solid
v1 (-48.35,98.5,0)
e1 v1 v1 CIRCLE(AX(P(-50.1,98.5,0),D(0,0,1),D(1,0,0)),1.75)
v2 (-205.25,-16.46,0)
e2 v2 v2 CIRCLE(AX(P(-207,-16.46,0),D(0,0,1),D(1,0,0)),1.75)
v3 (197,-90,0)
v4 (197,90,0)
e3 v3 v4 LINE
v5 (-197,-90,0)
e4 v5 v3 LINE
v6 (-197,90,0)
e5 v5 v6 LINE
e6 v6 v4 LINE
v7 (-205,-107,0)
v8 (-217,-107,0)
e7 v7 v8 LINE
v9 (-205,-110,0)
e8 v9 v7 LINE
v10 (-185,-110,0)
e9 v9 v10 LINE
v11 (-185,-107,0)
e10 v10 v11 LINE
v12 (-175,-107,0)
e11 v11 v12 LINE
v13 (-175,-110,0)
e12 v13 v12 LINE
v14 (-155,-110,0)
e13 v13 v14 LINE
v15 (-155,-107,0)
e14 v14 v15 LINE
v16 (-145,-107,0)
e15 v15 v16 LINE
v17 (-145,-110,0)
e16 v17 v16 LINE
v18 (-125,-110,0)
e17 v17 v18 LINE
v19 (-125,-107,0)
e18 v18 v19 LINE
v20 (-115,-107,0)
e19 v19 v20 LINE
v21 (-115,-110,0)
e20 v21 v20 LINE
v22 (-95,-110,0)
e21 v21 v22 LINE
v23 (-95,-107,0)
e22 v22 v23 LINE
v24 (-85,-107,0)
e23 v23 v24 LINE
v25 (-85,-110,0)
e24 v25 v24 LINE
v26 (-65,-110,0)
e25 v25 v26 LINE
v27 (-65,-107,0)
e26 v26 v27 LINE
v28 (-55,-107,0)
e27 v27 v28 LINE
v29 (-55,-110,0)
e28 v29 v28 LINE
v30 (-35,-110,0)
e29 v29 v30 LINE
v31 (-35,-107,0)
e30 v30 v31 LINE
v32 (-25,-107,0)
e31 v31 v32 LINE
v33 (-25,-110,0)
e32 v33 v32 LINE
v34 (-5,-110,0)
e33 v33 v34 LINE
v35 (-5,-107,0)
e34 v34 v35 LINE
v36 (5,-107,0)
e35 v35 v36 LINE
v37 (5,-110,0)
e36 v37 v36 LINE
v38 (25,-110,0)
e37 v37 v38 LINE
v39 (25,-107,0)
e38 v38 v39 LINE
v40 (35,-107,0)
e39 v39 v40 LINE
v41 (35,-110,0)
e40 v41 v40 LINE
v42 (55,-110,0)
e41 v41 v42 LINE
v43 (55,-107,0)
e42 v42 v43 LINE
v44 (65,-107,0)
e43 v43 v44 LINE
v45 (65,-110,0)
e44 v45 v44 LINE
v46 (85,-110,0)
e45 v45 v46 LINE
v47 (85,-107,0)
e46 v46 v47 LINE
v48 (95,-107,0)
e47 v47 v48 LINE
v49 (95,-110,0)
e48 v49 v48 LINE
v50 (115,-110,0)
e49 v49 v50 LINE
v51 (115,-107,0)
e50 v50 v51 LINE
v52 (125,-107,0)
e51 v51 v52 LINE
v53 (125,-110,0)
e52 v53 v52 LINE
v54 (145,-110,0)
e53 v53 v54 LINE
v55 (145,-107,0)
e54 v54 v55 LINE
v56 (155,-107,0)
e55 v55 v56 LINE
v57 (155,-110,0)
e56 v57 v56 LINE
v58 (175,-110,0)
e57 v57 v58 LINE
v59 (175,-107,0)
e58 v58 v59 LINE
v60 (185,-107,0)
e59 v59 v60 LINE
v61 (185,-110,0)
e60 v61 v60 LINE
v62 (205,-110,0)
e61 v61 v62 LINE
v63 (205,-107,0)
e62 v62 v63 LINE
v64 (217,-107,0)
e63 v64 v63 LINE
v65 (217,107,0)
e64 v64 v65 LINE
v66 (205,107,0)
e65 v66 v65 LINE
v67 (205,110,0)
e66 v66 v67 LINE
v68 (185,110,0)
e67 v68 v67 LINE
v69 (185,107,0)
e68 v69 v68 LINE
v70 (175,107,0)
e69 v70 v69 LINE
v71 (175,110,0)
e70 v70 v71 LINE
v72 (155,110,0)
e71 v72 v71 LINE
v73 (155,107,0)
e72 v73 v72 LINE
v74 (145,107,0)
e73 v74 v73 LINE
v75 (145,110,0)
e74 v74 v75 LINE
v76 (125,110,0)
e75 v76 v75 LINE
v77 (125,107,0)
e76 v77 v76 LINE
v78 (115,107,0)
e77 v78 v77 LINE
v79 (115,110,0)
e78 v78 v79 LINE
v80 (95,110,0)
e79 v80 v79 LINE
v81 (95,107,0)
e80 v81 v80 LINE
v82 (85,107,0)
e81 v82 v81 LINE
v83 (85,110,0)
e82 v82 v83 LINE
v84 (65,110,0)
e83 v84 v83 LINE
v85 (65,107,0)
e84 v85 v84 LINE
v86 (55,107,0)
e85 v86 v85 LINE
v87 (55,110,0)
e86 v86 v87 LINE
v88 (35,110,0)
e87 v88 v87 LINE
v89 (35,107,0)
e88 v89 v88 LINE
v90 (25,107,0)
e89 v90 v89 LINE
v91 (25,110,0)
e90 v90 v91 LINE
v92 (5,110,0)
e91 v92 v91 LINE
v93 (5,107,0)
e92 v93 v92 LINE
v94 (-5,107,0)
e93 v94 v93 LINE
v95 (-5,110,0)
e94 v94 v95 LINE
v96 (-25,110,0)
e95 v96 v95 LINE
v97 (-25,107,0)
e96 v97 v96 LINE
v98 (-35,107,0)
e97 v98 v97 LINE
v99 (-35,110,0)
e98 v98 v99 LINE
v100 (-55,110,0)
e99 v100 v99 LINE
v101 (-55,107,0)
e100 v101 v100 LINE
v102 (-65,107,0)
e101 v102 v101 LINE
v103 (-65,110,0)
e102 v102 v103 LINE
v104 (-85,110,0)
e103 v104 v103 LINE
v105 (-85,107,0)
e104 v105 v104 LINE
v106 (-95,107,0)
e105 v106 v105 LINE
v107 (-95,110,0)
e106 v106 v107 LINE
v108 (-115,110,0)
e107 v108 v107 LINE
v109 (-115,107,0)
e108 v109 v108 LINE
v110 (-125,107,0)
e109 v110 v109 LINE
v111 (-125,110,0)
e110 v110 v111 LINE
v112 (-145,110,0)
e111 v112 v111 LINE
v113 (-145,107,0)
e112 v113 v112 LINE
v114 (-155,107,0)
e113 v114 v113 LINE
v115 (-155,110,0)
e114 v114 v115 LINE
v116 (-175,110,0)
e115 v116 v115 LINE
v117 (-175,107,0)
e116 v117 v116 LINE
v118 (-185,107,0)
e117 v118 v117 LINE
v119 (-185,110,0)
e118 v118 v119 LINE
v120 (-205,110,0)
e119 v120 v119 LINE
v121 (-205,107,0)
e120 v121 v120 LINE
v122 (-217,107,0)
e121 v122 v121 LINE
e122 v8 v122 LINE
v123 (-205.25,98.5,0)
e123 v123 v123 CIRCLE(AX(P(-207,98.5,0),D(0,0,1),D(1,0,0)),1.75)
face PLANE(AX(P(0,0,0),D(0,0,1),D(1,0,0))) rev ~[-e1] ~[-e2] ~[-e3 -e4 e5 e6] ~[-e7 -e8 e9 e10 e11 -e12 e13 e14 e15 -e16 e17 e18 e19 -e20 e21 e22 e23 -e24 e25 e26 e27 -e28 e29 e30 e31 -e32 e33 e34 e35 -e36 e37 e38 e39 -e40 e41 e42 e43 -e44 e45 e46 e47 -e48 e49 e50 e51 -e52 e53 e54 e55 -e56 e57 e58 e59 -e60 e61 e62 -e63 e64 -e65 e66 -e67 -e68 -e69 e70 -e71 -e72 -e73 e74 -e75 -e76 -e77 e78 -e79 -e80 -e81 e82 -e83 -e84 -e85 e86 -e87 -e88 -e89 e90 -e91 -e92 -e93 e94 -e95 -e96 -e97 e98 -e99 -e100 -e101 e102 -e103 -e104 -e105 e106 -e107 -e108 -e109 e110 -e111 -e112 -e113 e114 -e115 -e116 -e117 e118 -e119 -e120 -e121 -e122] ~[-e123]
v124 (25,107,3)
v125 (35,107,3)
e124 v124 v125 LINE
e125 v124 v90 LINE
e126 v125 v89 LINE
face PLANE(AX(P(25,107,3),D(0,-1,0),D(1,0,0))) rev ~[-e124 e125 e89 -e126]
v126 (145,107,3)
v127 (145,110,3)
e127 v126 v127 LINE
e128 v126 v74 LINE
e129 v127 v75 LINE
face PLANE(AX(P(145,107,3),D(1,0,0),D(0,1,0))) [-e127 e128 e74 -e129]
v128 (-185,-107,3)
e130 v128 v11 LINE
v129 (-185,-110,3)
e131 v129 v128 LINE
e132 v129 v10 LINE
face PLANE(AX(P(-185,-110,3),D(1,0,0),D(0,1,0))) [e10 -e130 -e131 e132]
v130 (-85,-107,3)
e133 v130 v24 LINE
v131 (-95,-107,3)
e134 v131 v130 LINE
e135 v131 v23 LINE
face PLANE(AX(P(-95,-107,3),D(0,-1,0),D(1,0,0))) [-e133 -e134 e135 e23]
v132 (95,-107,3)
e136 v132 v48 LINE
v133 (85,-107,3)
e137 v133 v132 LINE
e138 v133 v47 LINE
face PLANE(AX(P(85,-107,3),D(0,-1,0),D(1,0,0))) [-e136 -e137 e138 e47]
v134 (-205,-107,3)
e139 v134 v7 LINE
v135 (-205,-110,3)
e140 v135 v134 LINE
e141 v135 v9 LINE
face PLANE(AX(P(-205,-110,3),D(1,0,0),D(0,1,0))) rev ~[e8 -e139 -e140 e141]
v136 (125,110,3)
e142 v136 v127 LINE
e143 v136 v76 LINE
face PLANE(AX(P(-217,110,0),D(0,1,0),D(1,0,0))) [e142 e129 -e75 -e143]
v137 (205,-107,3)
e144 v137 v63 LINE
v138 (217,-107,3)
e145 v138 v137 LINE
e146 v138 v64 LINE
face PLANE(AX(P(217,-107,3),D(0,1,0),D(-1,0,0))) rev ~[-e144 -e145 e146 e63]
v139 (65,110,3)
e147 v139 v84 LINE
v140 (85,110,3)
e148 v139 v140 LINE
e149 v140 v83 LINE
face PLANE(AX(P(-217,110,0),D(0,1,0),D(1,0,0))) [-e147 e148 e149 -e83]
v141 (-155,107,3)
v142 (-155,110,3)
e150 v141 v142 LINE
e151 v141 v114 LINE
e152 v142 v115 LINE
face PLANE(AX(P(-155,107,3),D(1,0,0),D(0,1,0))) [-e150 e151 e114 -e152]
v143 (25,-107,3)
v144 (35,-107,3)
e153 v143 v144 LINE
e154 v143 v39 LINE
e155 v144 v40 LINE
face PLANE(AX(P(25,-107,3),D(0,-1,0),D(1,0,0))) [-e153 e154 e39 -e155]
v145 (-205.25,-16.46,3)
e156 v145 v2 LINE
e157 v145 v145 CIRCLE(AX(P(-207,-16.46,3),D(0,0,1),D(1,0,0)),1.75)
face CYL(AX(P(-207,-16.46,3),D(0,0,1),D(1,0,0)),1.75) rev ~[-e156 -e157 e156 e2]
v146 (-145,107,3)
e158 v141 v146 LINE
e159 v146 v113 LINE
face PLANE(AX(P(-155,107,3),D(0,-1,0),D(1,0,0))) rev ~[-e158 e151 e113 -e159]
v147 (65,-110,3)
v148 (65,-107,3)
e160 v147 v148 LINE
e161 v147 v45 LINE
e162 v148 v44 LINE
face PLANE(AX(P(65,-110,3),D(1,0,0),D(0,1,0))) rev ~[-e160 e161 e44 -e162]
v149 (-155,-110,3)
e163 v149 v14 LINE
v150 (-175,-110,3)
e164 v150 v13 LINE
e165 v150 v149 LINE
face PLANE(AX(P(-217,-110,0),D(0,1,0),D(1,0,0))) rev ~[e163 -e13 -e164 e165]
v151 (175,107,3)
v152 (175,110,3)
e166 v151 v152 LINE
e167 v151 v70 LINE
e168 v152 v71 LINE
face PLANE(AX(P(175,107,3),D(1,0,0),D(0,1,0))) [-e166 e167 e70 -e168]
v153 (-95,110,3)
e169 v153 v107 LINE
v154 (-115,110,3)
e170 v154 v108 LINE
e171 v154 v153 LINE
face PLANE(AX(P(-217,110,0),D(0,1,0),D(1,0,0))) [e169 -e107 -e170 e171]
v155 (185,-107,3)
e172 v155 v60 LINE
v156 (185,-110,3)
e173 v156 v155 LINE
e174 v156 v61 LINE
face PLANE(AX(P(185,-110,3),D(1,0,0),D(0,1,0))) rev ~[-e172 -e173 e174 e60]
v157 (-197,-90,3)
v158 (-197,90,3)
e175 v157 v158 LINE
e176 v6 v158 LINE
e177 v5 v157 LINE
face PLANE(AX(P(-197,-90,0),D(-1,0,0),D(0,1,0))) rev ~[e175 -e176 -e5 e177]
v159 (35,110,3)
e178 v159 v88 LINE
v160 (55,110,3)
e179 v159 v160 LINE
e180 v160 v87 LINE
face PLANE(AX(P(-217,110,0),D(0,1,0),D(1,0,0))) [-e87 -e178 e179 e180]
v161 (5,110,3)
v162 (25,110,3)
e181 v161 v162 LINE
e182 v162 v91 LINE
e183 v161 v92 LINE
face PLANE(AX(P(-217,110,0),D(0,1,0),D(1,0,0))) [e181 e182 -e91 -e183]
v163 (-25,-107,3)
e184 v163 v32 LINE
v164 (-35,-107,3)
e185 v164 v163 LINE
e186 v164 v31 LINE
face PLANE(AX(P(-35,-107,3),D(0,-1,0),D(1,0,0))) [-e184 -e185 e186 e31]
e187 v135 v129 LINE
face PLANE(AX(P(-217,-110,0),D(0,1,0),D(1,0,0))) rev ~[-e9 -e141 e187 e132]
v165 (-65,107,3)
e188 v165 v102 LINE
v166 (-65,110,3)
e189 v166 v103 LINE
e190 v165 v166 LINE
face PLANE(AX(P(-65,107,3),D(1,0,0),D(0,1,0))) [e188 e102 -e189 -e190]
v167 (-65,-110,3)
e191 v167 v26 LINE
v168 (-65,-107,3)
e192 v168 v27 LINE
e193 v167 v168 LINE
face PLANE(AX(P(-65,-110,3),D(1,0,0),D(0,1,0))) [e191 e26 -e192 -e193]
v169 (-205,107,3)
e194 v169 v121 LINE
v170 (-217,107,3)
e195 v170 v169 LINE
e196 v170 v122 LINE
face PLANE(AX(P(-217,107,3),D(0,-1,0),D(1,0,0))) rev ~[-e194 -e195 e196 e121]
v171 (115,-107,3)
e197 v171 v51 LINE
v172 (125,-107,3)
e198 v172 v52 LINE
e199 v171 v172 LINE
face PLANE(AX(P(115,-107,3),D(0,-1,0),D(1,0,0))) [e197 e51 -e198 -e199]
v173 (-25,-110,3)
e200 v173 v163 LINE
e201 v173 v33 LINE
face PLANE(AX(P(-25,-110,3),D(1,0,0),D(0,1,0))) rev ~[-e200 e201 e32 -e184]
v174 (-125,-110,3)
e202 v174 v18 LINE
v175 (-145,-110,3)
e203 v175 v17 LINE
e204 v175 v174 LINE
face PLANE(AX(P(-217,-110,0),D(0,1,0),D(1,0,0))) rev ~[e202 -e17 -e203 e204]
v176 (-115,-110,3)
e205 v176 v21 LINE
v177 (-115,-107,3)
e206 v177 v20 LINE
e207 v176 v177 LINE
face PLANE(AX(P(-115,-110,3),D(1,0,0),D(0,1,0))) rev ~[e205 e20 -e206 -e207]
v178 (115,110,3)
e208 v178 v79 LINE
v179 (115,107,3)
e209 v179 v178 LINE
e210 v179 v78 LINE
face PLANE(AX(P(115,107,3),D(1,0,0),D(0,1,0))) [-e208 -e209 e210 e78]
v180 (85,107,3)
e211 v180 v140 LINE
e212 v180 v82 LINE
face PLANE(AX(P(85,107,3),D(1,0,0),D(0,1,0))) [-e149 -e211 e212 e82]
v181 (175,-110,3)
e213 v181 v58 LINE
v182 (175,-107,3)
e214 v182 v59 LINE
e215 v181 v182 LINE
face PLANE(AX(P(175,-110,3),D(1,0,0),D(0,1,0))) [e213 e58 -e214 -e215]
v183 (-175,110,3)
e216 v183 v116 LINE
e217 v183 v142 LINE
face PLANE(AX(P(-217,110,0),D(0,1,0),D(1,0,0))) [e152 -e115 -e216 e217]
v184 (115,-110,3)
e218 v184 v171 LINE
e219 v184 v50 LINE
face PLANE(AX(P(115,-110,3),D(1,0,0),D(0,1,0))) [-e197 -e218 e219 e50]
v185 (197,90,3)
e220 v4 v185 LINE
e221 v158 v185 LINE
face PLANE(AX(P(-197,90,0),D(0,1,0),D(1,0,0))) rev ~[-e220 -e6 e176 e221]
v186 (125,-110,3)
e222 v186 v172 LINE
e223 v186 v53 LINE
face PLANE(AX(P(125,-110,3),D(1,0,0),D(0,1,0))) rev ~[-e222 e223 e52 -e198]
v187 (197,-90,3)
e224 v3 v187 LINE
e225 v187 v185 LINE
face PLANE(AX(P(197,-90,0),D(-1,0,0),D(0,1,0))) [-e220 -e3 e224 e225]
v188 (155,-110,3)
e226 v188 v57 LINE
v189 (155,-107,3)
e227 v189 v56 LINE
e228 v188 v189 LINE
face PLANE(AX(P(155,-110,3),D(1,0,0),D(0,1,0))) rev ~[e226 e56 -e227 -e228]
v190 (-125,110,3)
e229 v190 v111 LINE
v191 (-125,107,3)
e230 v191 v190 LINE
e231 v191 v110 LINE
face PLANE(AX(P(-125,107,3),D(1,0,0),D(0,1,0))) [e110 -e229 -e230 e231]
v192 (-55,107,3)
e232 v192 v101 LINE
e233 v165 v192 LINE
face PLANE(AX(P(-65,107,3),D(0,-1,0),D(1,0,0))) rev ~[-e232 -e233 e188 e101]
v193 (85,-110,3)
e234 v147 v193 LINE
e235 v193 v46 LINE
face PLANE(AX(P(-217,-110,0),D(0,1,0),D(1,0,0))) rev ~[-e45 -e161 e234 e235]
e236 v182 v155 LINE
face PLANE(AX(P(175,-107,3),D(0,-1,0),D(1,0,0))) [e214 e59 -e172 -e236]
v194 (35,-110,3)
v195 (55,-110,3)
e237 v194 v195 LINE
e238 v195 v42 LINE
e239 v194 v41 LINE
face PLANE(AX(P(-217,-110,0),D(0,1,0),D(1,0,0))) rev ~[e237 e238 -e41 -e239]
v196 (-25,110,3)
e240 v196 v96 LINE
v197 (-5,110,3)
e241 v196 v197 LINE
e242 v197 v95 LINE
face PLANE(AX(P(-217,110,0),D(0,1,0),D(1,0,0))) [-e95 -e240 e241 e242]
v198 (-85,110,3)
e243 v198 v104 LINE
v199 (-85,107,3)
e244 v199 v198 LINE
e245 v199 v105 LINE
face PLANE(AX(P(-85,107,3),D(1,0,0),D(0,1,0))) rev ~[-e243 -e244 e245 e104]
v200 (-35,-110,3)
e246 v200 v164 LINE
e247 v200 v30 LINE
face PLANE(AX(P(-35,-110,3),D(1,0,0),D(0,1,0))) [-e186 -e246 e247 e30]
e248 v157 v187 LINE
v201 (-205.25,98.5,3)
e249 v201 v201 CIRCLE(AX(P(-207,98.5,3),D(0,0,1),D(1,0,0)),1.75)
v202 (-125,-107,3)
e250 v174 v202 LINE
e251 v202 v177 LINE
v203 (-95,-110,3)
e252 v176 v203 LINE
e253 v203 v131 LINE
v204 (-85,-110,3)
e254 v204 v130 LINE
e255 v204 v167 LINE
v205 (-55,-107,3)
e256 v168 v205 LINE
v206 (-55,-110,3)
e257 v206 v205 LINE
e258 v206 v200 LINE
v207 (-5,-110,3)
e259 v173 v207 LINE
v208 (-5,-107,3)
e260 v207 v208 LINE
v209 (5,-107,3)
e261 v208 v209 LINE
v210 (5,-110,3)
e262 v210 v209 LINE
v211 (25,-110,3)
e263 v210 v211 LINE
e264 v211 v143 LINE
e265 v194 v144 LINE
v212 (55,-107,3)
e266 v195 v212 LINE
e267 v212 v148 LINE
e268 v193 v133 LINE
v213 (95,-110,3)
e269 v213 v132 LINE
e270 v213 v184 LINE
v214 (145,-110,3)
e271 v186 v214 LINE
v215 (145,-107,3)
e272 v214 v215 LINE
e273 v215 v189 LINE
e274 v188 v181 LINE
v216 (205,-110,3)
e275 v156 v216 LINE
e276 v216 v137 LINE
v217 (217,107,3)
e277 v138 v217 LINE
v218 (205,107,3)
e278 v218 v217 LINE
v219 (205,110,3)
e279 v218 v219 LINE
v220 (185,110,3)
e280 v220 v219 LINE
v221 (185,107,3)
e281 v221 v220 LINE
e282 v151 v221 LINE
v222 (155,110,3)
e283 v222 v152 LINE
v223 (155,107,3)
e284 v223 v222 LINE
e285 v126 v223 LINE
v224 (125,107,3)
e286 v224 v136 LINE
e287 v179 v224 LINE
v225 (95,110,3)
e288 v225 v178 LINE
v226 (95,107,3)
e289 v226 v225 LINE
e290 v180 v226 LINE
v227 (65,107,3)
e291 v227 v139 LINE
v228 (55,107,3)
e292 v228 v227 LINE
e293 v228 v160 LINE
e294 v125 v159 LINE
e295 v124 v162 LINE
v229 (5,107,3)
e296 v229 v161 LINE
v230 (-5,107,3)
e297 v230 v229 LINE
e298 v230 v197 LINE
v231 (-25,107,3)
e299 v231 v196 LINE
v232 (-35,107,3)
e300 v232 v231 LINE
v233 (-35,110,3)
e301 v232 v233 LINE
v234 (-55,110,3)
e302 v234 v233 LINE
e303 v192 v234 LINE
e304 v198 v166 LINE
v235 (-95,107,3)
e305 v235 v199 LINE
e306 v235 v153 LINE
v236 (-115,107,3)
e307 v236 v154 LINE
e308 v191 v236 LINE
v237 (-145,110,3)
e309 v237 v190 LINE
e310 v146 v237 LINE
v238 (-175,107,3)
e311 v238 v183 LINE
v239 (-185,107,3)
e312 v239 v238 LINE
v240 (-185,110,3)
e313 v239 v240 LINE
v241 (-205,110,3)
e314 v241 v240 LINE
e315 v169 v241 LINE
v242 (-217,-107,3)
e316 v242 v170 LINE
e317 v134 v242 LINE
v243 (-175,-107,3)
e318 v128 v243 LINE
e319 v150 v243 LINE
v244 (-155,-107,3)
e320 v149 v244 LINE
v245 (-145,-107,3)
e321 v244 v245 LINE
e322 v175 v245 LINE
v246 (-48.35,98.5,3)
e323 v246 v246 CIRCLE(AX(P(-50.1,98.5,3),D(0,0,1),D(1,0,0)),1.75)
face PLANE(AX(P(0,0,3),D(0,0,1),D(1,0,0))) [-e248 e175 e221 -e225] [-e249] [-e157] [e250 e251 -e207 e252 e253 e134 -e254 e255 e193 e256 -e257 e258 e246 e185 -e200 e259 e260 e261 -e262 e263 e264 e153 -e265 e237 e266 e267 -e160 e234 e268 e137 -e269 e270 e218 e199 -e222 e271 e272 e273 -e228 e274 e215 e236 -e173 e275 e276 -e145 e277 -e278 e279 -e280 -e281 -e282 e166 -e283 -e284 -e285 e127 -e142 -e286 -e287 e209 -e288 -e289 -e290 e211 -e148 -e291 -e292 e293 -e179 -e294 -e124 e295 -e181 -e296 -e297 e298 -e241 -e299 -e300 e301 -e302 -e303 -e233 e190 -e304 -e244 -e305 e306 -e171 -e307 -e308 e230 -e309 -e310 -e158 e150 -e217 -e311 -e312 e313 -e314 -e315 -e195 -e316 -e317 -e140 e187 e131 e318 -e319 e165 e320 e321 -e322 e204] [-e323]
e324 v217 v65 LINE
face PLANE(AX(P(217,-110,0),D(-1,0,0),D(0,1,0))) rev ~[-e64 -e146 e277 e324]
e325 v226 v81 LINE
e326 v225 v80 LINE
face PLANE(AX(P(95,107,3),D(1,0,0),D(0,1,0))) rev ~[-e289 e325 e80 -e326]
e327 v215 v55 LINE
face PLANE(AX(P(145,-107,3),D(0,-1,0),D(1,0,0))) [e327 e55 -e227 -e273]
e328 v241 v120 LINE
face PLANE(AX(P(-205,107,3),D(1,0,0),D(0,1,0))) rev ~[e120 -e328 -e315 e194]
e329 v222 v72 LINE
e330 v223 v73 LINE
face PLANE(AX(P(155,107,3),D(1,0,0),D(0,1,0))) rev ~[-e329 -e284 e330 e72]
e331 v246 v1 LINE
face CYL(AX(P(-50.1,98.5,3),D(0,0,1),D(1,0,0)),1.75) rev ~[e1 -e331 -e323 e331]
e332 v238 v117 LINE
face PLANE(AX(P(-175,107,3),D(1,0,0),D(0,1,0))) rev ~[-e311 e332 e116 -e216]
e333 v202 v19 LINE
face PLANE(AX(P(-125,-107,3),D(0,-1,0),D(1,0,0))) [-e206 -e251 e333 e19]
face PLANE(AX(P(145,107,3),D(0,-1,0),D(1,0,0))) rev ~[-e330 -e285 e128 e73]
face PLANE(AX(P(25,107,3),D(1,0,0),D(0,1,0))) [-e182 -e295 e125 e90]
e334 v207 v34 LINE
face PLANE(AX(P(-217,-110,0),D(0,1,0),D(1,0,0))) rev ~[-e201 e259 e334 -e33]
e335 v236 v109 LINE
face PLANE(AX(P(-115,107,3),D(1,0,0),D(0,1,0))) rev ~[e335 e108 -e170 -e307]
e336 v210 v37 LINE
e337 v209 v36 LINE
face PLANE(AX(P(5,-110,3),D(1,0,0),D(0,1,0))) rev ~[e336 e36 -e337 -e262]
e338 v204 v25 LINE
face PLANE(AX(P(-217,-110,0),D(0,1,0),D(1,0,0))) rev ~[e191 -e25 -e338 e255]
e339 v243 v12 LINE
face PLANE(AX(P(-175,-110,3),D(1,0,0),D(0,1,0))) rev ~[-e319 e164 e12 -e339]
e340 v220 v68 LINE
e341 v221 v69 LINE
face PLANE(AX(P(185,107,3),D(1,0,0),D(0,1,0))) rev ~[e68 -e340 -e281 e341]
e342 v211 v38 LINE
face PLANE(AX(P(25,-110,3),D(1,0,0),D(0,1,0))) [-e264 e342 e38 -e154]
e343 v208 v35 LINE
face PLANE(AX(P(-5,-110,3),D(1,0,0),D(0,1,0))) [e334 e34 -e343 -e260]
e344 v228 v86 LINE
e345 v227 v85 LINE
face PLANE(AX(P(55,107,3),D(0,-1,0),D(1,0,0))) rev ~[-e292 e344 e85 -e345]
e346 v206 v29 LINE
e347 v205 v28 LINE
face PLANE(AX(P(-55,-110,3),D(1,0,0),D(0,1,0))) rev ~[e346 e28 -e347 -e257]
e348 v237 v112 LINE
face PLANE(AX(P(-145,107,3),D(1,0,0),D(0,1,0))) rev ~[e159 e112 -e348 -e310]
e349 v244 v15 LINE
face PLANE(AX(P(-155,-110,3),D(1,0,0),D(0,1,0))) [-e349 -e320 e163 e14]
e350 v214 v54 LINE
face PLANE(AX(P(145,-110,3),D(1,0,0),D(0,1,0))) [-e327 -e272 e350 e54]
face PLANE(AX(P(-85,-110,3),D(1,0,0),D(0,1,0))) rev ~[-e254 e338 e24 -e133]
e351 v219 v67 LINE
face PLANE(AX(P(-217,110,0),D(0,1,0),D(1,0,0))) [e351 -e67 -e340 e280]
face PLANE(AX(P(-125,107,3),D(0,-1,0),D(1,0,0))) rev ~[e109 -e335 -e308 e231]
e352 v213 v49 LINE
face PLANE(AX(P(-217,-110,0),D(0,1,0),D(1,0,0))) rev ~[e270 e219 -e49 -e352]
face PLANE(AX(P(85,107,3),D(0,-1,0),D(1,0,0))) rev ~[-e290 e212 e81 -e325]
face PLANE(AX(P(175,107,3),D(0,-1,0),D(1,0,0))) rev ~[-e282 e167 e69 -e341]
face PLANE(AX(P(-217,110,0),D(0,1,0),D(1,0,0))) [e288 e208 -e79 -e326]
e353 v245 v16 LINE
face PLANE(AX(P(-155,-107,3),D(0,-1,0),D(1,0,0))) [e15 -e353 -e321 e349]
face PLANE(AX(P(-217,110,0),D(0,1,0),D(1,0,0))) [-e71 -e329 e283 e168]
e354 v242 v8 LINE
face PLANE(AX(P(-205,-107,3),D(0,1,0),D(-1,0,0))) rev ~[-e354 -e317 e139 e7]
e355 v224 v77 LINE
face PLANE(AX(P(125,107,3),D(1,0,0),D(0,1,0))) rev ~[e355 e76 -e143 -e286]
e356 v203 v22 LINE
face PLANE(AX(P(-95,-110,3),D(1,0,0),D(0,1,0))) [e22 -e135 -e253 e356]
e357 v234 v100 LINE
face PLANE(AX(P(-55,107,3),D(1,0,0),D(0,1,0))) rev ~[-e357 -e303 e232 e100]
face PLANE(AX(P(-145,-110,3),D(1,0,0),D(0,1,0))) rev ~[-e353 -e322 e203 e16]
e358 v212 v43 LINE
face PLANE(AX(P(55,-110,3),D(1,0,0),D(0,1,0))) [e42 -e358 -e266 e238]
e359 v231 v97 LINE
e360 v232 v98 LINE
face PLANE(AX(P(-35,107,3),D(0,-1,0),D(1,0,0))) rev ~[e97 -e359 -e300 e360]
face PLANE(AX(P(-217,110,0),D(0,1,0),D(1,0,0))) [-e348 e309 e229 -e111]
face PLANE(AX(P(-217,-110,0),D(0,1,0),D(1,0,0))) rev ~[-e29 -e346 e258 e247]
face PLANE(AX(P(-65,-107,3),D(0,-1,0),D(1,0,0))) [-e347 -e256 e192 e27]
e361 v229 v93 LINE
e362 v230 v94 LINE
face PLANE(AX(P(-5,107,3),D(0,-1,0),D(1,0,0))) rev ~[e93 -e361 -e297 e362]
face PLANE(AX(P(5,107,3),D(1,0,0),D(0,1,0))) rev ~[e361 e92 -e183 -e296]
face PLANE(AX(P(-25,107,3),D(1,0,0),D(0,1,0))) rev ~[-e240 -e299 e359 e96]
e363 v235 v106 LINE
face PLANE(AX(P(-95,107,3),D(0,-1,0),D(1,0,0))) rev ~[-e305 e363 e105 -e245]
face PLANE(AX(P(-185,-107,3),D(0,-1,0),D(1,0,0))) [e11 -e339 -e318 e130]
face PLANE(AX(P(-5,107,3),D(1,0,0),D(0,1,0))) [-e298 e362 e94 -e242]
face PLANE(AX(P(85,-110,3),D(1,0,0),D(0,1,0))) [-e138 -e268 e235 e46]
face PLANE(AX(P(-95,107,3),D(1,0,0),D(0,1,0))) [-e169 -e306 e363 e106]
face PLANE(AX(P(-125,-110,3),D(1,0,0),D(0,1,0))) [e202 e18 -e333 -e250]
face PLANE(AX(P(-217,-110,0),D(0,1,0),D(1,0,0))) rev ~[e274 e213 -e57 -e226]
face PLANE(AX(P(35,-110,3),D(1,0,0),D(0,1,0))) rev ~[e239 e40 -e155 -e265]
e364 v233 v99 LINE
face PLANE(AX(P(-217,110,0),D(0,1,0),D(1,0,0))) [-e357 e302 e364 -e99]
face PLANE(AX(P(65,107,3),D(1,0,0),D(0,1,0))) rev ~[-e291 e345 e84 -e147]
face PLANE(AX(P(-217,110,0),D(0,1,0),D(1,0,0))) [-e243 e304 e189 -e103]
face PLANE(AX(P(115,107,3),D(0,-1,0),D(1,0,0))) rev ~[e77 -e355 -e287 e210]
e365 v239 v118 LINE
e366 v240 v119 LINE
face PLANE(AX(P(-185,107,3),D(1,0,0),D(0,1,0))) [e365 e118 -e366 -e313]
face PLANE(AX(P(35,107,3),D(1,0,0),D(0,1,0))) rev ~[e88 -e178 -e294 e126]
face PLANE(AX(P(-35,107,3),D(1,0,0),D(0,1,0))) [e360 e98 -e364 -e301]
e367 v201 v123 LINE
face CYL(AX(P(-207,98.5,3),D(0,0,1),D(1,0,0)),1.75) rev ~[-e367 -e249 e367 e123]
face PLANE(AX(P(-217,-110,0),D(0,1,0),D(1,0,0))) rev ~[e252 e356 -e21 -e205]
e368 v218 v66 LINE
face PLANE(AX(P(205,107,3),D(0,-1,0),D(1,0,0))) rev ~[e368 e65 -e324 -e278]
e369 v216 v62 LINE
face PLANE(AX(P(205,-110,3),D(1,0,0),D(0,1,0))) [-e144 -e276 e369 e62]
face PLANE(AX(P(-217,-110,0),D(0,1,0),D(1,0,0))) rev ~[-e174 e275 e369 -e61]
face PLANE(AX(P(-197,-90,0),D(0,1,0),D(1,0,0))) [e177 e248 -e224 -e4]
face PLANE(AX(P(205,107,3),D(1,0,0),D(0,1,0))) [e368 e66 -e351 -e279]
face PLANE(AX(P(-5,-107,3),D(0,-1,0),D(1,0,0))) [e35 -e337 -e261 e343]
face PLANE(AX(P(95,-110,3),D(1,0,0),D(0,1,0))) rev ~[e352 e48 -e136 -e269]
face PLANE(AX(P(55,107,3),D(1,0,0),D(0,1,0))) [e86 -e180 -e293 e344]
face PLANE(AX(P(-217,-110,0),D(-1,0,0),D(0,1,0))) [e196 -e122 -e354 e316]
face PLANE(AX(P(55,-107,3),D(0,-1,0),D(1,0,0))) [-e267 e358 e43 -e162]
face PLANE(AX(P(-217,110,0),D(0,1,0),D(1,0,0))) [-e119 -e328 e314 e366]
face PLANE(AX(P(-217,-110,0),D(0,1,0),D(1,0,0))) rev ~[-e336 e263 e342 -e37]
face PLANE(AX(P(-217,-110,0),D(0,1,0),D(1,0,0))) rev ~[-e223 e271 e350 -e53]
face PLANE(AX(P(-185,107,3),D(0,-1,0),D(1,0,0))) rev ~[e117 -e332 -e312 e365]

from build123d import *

# Parameters (mm, degrees)
ESQUISSE1_W             = 434
ESQUISSE1_H             = 220
ESQUISSE1_W_2           = 394
ESQUISSE1_H_2           = 180
BOSS_EXTRU_1_DEPTH      = 3
ESQUISSE2_W             = 10
ESQUISSE2_H             = 3
ESQUISSE2_W_2           = 2
ENL_V_MAT_EXTRU_1_DEPTH = 3
ESQUISSE3_R             = 1.75
ENL_V_MAT_EXTRU_2_DEPTH = 3


with BuildPart() as part:
    # Esquisse1 → Boss.-Extru.1 (new body)
    with BuildSketch(Plane.XY):
        Rectangle(ESQUISSE1_W, ESQUISSE1_H)
        Rectangle(ESQUISSE1_W_2, ESQUISSE1_H_2, mode=Mode.SUBTRACT)
    extrude(amount=BOSS_EXTRU_1_DEPTH)

    # Esquisse2 → Enlèv. mat.-Extru.1 (cut)
    with BuildSketch(Plane.XY.offset(3)):
        with Locations((-210, 108.5)):
            Rectangle(ESQUISSE2_W, ESQUISSE2_H)
        with Locations((-180, 108.5)):
            Rectangle(ESQUISSE2_W, ESQUISSE2_H)
        with Locations((-150, 108.5)):
            Rectangle(ESQUISSE2_W, ESQUISSE2_H)
        with Locations((-120, 108.5)):
            Rectangle(ESQUISSE2_W, ESQUISSE2_H)
        with Locations((-90, 108.5)):
            Rectangle(ESQUISSE2_W, ESQUISSE2_H)
        with Locations((-30, 108.5)):
            Rectangle(ESQUISSE2_W, ESQUISSE2_H)
        with Locations((30, 108.5)):
            Rectangle(ESQUISSE2_W, ESQUISSE2_H)
        with Locations((60, 108.5)):
            Rectangle(ESQUISSE2_W, ESQUISSE2_H)
        with Locations((90, 108.5)):
            Rectangle(ESQUISSE2_W, ESQUISSE2_H)
        with Locations((120, 108.5)):
            Rectangle(ESQUISSE2_W, ESQUISSE2_H)
        with Locations((150, 108.5)):
            Rectangle(ESQUISSE2_W, ESQUISSE2_H)
        with Locations((180, 108.5)):
            Rectangle(ESQUISSE2_W, ESQUISSE2_H)
        with Locations((210, 108.5)):
            Rectangle(ESQUISSE2_W, ESQUISSE2_H)
        with Locations((210, -108.5)):
            Rectangle(ESQUISSE2_W, ESQUISSE2_H)
        with Locations((180, -108.5)):
            Rectangle(ESQUISSE2_W, ESQUISSE2_H)
        with Locations((150, -108.5)):
            Rectangle(ESQUISSE2_W, ESQUISSE2_H)
        with Locations((90, -108.5)):
            Rectangle(ESQUISSE2_W, ESQUISSE2_H)
        with Locations((60, -108.5)):
            Rectangle(ESQUISSE2_W, ESQUISSE2_H)
        with Locations((-30, -108.5)):
            Rectangle(ESQUISSE2_W, ESQUISSE2_H)
        with Locations((-60, -108.5)):
            Rectangle(ESQUISSE2_W, ESQUISSE2_H)
        with Locations((-90, -108.5)):
            Rectangle(ESQUISSE2_W, ESQUISSE2_H)
        with Locations((-120, -108.5)):
            Rectangle(ESQUISSE2_W, ESQUISSE2_H)
        with Locations((-150, -108.5)):
            Rectangle(ESQUISSE2_W, ESQUISSE2_H)
        with Locations((-210, -108.5)):
            Rectangle(ESQUISSE2_W, ESQUISSE2_H)
        with Locations((-180, -108.5)):
            Rectangle(ESQUISSE2_W, ESQUISSE2_H)
        with Locations((-216, -108.5)):
            Rectangle(ESQUISSE2_W_2, ESQUISSE2_H)
        with Locations((-216, 108.5)):
            Rectangle(ESQUISSE2_W_2, ESQUISSE2_H)
        with Locations((-60, 108.5)):
            Rectangle(ESQUISSE2_W, ESQUISSE2_H)
        with Locations((0, 108.5)):
            Rectangle(ESQUISSE2_W, ESQUISSE2_H)
        with Locations((120, -108.5)):
            Rectangle(ESQUISSE2_W, ESQUISSE2_H)
        with Locations((30, -108.5)):
            Rectangle(ESQUISSE2_W, ESQUISSE2_H)
        with Locations((0, -108.5)):
            Rectangle(ESQUISSE2_W, ESQUISSE2_H)
        with Locations((216, 108.5)):
            Rectangle(ESQUISSE2_W_2, ESQUISSE2_H)
        with Locations((216, -108.5)):
            Rectangle(ESQUISSE2_W_2, ESQUISSE2_H)
    extrude(amount=-ENL_V_MAT_EXTRU_1_DEPTH, mode=Mode.SUBTRACT)

    # Esquisse3 → Enlèv. mat.-Extru.2 (cut)
    with BuildSketch(Plane.XY.offset(3)):
        with Locations((-207, 98.5)):
            Circle(ESQUISSE3_R)
        with Locations((-50.1, 98.5)):
            Circle(ESQUISSE3_R)
        with Locations((-207, -16.46)):
            Circle(ESQUISSE3_R)
    extrude(amount=-ENL_V_MAT_EXTRU_2_DEPTH, mode=Mode.SUBTRACT)


solid = part.part
